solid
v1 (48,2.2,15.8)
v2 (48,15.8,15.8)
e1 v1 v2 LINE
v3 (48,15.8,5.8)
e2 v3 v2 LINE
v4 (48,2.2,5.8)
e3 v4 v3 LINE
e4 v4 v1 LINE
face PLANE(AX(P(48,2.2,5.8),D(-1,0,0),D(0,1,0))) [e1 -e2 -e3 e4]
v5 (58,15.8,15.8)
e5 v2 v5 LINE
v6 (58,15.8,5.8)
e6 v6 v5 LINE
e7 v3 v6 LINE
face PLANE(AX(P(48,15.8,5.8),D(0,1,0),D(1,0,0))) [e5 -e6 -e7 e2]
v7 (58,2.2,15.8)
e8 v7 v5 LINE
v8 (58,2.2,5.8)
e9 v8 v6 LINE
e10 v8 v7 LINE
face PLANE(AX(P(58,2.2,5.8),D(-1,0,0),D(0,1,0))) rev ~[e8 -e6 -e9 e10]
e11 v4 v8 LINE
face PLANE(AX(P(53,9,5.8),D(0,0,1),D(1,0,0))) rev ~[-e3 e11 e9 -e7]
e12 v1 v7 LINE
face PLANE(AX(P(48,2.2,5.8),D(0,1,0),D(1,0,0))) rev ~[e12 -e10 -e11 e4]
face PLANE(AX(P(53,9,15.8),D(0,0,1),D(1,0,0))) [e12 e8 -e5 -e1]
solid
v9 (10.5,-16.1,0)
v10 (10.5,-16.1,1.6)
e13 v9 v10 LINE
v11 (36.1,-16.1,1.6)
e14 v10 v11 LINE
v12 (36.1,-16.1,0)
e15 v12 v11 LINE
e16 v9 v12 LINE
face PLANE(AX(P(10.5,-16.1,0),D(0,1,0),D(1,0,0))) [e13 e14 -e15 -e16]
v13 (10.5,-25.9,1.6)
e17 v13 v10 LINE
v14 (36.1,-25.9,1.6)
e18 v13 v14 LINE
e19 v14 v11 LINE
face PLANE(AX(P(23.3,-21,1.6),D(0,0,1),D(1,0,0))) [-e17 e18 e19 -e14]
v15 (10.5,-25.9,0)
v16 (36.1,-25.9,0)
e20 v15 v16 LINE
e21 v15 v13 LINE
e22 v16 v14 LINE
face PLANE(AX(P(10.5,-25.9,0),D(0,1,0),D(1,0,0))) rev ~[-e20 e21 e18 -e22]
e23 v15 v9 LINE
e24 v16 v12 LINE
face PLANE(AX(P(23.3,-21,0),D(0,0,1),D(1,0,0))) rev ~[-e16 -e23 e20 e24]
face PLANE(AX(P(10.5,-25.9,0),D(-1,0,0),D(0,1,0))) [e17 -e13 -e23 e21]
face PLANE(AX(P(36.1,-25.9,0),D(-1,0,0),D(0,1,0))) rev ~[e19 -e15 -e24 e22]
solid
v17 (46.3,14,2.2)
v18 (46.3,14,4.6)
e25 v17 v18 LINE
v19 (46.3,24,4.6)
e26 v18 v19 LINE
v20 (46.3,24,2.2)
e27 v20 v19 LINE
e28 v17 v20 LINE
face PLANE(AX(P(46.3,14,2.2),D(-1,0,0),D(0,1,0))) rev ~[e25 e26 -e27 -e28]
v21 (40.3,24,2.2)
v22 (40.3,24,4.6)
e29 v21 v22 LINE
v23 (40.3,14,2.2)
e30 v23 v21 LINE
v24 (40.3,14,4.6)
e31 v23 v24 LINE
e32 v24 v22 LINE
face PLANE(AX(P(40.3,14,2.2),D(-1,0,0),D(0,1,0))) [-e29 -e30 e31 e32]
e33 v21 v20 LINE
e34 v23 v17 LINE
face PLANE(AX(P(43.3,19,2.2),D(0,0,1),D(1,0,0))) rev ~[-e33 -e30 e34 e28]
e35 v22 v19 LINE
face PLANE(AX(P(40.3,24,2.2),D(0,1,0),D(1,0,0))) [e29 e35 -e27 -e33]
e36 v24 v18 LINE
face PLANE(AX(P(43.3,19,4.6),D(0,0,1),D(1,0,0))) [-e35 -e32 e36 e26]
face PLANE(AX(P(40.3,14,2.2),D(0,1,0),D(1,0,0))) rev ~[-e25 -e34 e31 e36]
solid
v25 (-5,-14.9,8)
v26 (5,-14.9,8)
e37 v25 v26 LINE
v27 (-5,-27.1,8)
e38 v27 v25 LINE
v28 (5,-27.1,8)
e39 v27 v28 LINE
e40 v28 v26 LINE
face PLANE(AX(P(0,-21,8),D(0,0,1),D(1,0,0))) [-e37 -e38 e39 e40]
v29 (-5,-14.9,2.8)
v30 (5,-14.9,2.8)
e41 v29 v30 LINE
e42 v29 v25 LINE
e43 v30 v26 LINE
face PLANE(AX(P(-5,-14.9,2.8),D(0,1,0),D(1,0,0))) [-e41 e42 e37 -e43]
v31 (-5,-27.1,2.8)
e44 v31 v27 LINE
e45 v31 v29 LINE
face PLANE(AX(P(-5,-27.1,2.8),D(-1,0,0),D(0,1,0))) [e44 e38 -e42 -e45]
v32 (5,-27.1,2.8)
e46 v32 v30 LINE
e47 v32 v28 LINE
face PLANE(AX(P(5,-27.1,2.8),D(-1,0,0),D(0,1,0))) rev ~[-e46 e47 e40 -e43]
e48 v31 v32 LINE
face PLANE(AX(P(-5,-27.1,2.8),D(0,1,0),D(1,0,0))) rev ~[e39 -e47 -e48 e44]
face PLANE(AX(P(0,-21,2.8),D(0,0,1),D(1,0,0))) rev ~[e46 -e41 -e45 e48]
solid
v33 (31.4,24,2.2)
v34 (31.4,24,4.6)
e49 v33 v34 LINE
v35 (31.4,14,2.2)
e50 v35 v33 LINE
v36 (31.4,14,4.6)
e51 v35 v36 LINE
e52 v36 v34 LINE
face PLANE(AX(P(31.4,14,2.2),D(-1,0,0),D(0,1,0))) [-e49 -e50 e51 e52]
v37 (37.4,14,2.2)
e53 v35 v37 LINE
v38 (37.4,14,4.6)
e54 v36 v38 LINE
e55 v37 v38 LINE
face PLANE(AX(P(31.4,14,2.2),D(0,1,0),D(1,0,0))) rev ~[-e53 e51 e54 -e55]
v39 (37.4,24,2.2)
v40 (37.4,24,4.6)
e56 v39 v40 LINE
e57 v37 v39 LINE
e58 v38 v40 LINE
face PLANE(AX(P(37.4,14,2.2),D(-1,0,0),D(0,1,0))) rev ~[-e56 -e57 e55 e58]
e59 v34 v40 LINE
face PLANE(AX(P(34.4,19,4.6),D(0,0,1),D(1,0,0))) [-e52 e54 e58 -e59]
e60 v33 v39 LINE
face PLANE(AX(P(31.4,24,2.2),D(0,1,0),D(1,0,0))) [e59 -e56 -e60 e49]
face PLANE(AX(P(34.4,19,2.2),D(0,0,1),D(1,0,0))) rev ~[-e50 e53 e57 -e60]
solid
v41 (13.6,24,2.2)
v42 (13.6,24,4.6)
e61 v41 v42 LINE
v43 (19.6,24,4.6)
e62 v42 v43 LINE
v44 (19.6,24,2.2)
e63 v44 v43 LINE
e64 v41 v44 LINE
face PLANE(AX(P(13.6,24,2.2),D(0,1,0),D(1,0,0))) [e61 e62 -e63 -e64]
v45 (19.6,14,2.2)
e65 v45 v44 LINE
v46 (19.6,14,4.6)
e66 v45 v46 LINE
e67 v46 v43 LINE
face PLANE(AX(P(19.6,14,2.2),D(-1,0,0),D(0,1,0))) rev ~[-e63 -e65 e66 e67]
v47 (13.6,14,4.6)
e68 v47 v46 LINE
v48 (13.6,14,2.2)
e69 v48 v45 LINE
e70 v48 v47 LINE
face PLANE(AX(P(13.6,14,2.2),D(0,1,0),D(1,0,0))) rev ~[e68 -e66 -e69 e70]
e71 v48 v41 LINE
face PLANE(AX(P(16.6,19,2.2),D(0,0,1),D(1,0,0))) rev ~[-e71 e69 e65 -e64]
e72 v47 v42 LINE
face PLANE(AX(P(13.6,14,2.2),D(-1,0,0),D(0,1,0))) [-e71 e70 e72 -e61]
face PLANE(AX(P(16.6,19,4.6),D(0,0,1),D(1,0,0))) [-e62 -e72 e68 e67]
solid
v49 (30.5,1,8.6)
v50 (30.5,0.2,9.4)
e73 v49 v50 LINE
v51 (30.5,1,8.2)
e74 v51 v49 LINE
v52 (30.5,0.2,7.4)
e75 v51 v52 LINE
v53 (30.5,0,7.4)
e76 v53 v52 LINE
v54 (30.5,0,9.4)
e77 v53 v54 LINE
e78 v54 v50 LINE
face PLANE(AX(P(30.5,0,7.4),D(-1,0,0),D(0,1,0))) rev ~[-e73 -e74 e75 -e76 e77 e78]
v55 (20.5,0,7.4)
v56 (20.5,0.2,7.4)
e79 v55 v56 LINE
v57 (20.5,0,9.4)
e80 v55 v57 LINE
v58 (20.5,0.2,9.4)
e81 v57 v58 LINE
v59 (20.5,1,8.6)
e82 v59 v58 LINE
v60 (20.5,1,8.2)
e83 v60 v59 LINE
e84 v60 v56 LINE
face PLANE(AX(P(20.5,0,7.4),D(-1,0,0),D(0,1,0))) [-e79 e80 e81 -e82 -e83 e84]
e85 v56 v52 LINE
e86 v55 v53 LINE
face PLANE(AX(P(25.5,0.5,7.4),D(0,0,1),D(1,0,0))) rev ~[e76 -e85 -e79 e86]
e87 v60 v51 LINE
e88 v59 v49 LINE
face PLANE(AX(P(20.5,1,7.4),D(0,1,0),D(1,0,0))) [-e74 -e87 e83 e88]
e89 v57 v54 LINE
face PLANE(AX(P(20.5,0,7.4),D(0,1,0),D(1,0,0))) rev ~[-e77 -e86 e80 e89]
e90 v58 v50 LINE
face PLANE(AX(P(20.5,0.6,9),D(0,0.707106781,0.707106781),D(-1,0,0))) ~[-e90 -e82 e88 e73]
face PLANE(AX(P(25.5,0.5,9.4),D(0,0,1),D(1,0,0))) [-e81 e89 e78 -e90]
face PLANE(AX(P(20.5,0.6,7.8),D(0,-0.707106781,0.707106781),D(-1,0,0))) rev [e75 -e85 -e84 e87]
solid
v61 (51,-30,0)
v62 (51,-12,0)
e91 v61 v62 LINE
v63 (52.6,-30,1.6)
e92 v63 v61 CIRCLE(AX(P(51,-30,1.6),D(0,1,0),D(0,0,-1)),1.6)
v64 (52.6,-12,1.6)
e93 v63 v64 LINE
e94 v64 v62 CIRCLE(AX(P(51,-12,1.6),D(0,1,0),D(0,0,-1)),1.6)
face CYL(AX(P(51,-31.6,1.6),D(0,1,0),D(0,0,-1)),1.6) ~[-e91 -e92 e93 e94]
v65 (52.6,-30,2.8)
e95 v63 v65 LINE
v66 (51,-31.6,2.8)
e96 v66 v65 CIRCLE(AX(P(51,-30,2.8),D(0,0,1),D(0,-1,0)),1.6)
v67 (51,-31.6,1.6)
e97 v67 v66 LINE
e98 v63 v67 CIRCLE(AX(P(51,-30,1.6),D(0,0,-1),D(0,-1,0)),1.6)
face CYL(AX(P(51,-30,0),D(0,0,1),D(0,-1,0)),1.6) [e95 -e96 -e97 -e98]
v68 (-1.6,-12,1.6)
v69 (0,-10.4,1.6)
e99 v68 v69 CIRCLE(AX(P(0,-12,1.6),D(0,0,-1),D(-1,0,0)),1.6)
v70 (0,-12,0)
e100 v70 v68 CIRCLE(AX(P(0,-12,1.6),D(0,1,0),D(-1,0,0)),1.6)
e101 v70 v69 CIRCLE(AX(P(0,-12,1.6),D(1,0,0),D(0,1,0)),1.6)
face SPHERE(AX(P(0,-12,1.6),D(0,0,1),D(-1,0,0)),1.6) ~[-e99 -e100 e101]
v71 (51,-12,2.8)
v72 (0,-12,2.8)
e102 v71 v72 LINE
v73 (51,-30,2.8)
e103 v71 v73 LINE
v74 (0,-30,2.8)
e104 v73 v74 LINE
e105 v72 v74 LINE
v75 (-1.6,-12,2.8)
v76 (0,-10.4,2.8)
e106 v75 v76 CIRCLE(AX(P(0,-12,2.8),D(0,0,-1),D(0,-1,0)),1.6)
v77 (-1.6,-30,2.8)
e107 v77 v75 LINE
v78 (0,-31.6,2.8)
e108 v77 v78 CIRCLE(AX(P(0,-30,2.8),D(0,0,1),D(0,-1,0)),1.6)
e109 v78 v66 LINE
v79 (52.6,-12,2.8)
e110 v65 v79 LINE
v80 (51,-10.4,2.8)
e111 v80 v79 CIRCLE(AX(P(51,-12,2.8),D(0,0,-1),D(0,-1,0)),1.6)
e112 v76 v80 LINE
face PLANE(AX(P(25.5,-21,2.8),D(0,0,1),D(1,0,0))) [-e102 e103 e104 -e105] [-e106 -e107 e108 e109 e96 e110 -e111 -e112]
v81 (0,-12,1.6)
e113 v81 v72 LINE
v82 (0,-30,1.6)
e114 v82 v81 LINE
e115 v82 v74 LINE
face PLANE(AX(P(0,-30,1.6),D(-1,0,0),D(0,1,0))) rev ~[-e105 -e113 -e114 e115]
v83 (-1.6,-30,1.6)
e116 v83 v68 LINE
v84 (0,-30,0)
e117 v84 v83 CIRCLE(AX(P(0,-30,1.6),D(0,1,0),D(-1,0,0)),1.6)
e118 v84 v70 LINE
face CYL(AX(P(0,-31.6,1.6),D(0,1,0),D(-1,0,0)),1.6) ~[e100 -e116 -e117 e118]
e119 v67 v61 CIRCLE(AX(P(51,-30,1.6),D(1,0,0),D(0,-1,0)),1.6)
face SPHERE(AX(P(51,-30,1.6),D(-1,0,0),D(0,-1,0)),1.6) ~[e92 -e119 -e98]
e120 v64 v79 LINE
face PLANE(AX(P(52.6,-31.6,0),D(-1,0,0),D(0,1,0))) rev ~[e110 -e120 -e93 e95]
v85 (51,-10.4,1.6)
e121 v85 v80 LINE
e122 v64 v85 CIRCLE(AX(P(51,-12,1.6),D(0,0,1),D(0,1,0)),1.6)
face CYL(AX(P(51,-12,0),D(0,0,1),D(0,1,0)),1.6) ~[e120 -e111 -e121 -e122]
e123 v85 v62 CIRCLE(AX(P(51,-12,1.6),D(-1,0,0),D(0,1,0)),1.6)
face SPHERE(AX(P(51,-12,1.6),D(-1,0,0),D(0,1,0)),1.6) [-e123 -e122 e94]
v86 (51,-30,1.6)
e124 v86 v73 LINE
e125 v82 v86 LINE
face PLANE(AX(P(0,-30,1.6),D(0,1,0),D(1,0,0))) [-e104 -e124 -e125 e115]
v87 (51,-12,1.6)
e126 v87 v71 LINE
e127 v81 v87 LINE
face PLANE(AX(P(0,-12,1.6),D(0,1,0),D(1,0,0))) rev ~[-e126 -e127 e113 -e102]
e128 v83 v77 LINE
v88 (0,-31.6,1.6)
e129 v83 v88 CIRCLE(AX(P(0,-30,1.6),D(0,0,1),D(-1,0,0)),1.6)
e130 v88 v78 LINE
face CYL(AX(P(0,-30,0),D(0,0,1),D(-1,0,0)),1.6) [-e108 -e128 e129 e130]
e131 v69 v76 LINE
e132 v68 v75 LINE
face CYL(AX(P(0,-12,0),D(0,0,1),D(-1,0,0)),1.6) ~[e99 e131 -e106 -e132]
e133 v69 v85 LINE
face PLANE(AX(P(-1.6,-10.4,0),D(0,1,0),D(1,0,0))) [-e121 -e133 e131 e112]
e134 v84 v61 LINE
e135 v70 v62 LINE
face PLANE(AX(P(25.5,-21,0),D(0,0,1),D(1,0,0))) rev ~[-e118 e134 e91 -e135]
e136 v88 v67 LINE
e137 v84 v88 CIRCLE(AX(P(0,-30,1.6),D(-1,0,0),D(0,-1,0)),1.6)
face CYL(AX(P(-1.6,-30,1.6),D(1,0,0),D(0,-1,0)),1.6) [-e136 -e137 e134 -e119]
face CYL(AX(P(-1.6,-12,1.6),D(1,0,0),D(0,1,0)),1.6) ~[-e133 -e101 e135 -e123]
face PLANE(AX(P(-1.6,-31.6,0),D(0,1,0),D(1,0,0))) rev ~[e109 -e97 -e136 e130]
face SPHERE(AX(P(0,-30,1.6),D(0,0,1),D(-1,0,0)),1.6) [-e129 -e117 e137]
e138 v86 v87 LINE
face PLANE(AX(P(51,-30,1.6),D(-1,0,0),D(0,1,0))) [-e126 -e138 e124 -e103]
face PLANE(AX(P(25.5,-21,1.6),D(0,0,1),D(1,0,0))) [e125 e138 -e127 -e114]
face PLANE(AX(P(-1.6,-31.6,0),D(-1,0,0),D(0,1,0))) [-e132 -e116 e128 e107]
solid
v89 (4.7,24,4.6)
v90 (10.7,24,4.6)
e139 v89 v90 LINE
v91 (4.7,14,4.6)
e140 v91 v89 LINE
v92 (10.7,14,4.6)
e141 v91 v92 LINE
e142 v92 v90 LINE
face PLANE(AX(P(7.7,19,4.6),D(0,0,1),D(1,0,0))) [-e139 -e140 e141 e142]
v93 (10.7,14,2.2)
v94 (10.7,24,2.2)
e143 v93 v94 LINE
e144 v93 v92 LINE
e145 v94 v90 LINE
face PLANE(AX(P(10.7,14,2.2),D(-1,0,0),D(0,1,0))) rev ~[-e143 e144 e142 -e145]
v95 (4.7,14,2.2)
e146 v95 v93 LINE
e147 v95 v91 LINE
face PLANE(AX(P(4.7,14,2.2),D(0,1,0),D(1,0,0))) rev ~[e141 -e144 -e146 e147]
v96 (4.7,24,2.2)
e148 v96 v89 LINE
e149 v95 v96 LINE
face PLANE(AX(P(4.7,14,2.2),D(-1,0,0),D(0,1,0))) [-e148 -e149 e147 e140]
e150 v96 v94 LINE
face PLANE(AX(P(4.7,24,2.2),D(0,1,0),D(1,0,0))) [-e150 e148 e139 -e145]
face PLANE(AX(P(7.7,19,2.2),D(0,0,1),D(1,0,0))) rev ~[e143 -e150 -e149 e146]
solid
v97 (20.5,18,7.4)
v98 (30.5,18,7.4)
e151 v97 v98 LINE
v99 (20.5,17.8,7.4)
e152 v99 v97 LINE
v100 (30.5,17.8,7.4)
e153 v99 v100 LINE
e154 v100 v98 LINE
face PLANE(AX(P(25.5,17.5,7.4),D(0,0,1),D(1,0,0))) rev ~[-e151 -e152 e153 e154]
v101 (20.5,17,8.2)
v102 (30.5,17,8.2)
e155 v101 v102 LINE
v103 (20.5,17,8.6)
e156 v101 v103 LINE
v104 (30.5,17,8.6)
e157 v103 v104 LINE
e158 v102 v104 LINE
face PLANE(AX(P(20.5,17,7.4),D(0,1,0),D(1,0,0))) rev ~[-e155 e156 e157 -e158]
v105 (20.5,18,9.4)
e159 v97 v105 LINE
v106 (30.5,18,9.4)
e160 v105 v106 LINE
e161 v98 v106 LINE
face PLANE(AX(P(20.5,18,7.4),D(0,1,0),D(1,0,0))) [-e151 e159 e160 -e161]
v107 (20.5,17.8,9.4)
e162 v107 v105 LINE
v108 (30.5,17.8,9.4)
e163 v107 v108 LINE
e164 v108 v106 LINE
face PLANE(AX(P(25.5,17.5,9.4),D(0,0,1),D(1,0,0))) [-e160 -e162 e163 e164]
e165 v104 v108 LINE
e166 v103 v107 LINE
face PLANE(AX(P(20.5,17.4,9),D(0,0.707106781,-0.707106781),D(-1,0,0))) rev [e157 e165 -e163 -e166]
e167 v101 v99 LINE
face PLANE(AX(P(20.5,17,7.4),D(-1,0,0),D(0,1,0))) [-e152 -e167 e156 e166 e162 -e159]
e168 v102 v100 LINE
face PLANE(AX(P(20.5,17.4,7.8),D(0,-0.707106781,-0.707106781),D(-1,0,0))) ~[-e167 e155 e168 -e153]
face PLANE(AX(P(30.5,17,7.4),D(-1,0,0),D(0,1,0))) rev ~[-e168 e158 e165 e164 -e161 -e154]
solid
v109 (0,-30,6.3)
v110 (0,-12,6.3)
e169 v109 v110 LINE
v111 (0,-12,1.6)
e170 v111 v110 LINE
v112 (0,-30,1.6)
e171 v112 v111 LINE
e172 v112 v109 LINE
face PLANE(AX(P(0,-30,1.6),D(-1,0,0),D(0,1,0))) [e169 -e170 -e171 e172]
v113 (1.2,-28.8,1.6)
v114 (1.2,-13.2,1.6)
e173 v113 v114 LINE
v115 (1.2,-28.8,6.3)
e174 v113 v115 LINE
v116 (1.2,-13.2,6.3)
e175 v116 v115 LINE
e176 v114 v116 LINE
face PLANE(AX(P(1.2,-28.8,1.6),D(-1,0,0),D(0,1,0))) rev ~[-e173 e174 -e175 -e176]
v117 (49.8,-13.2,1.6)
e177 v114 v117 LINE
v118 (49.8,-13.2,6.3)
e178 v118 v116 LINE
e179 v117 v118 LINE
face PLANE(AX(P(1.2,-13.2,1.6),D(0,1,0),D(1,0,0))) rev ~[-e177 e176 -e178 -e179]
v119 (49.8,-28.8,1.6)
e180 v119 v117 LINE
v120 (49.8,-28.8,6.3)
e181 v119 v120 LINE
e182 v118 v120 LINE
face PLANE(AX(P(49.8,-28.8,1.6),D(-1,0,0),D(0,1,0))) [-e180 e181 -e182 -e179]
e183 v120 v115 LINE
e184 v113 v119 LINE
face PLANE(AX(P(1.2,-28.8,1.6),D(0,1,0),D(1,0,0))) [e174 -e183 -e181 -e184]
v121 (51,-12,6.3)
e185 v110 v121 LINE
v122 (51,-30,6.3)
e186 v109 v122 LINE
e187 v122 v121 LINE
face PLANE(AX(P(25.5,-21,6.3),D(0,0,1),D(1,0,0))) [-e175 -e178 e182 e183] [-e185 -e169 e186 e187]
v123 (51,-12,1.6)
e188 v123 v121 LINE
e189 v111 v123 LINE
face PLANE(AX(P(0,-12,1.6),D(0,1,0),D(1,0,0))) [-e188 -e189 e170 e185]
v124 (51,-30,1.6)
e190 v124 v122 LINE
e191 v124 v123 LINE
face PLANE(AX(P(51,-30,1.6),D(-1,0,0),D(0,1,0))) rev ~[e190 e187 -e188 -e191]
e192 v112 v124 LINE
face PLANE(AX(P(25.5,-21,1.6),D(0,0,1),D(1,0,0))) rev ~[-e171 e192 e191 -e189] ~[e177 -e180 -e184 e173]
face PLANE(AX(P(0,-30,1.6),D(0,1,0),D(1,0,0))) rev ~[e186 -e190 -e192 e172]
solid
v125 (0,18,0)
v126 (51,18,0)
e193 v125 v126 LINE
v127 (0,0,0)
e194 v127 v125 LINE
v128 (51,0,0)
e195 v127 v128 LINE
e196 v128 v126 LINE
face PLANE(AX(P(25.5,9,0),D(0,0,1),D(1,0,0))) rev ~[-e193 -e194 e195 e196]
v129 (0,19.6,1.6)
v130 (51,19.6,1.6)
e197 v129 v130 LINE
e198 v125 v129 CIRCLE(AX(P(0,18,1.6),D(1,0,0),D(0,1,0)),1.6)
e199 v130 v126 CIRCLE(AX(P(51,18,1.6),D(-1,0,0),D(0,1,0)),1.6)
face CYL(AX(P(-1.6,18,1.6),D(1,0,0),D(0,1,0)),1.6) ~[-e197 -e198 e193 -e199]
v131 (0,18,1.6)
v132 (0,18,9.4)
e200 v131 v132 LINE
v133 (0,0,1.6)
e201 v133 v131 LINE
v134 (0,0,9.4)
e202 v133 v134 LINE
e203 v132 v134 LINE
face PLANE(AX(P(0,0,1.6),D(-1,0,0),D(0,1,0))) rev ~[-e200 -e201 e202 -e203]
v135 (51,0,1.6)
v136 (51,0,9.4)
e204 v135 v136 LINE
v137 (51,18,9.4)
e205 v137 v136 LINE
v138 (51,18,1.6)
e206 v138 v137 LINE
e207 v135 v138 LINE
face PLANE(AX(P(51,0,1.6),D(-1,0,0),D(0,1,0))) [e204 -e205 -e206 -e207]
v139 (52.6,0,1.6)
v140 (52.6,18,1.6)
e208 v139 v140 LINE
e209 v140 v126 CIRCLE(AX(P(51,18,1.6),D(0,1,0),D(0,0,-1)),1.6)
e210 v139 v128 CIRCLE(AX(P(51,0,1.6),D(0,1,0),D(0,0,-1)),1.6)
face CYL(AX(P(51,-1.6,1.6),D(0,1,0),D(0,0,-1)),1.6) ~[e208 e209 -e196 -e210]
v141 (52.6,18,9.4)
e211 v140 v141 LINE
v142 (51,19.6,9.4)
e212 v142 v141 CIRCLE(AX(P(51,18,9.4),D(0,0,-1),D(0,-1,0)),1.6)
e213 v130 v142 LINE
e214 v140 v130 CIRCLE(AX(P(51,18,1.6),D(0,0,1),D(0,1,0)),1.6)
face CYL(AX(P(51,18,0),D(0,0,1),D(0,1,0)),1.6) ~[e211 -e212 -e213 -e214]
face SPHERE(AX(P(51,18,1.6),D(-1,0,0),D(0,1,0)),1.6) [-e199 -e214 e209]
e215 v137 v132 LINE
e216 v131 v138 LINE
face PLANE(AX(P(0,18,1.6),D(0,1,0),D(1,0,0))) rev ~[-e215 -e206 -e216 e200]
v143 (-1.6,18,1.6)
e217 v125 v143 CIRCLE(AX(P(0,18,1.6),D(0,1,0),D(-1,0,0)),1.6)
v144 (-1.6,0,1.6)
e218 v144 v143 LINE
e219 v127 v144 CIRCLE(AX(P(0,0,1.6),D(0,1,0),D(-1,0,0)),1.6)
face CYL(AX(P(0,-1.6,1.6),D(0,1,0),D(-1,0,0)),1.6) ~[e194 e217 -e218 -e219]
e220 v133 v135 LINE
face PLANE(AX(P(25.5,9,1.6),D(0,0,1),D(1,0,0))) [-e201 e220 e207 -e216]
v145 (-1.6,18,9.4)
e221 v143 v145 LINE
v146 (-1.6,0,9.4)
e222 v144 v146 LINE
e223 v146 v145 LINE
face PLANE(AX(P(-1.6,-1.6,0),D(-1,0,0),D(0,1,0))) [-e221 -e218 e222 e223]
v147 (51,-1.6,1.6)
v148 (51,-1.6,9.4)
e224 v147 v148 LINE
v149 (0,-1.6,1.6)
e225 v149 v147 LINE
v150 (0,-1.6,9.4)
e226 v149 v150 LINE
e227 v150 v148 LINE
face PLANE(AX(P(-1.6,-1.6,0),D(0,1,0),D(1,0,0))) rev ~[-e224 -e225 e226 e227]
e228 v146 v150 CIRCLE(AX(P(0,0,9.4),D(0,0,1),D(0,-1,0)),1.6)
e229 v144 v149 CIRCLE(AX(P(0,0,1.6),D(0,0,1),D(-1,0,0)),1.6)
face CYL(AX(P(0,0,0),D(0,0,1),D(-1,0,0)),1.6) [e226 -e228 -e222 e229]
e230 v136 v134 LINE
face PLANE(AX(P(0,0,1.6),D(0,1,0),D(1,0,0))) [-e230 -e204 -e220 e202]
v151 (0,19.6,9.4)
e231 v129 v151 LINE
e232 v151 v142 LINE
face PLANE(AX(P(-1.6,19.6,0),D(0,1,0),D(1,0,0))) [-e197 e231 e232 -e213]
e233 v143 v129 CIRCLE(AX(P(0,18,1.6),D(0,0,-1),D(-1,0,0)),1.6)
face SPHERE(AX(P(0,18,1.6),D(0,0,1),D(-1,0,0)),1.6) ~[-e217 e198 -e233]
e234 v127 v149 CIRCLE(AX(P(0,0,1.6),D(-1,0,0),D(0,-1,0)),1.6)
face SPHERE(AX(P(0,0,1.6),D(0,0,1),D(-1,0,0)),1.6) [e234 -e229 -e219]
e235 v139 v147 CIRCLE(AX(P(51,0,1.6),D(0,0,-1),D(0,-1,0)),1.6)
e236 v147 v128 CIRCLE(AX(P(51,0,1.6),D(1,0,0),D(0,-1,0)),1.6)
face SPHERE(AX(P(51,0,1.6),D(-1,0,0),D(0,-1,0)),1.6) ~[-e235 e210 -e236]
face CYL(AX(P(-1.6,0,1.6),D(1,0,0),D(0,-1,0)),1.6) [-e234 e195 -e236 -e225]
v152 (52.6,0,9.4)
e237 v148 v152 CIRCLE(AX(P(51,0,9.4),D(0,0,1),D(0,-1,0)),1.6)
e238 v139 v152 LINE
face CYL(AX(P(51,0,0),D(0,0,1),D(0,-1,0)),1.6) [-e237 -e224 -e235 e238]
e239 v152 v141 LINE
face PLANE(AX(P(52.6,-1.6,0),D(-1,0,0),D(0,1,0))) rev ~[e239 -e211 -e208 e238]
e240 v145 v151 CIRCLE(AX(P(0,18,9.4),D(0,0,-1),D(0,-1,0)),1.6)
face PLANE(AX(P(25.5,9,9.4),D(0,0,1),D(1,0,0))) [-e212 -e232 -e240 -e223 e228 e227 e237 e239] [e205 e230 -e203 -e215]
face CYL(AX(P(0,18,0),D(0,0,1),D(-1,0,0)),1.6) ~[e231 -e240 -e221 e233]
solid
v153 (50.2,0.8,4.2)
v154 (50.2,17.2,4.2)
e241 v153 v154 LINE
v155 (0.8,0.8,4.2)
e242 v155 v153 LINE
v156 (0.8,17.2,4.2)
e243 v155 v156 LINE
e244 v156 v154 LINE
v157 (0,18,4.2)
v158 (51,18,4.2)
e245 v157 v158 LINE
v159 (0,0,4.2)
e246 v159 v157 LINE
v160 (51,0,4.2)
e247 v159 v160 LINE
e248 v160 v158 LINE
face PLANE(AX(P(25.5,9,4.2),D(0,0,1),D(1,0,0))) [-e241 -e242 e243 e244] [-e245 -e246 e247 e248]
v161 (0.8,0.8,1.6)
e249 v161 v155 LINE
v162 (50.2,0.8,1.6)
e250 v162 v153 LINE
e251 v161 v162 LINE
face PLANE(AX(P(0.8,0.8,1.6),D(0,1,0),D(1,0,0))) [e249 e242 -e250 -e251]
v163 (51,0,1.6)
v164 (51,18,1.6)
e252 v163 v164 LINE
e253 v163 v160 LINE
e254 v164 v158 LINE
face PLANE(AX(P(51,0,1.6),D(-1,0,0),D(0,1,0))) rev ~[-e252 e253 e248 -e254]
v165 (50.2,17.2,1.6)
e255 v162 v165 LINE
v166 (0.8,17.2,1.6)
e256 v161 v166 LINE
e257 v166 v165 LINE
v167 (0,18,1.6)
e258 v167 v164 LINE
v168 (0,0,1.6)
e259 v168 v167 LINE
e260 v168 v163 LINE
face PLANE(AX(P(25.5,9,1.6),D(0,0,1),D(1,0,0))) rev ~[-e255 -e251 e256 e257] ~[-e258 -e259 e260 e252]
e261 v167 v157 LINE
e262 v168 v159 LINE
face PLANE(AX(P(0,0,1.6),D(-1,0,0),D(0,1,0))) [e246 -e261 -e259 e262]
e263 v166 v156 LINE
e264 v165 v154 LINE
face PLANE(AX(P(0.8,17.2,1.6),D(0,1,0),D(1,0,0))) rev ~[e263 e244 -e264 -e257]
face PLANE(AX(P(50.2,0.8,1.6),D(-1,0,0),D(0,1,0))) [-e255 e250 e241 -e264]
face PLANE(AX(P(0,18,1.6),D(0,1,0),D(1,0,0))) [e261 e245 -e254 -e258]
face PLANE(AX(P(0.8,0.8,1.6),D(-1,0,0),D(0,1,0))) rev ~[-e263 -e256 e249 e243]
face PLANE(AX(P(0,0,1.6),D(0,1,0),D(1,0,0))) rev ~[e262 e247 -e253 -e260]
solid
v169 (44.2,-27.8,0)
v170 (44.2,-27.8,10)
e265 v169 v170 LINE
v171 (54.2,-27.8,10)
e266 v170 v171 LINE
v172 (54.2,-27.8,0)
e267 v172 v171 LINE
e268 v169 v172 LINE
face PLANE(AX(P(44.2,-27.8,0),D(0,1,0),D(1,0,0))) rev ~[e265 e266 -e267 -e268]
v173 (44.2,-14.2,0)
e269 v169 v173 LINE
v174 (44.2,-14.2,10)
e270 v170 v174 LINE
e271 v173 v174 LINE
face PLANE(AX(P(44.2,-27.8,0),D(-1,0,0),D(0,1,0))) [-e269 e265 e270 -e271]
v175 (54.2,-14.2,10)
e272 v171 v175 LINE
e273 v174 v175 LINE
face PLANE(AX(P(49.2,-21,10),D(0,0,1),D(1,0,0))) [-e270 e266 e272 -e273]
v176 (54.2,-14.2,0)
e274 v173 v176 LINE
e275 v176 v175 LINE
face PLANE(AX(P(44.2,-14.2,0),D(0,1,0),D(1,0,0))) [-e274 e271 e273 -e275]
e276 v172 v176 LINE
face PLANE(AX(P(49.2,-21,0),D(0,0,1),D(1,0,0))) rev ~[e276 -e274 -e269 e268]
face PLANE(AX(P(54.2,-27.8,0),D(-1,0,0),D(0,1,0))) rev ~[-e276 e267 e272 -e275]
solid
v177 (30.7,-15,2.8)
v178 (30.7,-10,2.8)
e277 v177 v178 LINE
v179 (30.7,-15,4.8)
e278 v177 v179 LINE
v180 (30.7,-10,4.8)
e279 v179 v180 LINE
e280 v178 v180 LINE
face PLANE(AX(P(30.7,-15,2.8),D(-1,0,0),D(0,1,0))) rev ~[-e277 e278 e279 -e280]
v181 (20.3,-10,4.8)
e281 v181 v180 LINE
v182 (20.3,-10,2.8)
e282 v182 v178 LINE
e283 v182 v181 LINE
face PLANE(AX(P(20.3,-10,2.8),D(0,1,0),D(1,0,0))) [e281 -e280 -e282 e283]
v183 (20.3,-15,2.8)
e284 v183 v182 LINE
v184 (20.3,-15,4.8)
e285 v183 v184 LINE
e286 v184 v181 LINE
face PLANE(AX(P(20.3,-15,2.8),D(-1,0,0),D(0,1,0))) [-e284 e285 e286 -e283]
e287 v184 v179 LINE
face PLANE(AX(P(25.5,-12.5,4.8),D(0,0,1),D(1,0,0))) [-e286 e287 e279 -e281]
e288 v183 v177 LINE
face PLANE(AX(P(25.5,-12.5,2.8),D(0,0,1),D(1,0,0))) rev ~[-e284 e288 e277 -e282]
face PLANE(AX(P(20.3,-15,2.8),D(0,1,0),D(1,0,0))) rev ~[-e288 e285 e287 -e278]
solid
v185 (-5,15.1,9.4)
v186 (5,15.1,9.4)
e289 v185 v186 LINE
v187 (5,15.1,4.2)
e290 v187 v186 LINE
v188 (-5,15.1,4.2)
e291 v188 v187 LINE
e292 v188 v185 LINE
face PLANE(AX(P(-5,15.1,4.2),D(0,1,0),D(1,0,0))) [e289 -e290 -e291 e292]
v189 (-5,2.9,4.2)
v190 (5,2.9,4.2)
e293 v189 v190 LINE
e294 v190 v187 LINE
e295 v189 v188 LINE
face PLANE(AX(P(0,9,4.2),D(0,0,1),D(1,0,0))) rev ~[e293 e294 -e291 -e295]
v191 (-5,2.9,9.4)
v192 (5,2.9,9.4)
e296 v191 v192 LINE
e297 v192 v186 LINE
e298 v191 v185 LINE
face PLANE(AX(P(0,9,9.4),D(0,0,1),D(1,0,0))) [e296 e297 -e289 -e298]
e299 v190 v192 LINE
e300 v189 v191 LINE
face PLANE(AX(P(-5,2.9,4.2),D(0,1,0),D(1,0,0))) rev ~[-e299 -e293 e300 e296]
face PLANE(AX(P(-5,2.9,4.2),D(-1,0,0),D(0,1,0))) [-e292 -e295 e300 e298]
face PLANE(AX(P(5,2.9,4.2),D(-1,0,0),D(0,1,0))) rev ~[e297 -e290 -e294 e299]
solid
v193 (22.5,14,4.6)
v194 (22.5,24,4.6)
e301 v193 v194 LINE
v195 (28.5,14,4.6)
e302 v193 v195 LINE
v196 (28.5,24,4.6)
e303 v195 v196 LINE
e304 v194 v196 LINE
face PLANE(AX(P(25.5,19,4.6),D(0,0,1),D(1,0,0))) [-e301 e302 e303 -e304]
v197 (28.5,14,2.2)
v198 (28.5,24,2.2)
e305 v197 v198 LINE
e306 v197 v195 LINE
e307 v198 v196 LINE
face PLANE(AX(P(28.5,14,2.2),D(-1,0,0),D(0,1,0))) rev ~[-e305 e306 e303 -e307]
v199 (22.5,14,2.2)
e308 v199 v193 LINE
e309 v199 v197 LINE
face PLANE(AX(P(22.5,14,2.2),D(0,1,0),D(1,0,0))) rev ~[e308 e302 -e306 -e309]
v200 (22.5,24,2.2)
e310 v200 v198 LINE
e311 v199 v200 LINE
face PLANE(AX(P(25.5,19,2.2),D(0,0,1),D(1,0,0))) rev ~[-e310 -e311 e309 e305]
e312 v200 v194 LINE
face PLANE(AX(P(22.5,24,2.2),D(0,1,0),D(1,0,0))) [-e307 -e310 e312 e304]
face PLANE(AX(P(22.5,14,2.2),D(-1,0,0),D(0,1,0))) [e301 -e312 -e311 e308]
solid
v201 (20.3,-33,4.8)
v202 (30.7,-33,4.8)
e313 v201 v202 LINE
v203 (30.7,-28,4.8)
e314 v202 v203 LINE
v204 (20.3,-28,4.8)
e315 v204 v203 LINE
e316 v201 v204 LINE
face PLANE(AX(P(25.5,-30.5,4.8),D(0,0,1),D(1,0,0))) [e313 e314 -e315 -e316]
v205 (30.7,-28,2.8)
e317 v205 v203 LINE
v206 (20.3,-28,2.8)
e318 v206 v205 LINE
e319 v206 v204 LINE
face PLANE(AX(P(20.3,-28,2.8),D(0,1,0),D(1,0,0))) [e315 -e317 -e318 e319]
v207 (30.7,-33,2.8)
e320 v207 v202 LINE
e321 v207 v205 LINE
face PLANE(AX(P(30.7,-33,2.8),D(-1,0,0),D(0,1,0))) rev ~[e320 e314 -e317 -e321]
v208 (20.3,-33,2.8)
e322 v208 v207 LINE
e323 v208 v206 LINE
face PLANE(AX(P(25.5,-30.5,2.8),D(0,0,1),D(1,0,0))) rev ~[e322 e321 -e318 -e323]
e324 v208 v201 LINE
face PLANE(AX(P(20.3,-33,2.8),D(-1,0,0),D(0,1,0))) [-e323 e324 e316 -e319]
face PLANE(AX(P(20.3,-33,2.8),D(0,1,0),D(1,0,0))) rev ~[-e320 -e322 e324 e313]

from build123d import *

# Parameters (mm, degrees)
BOX001_W        = 51
BOX001_H        = 18
BOX001_DEPTH    = 9.4
BOX_W           = 54.2
BOX_H           = 21.2
BOX_DEPTH       = 9.4
FILLET_R        = 1.6
BOX003_W        = 49.4
BOX003_H        = 16.4
BOX003_DEPTH    = 2.6
BOX002_W        = 51
BOX002_H        = 18
BOX002_DEPTH    = 2.6
BOX004_W        = 10
BOX004_H        = 1
BOX004_DEPTH    = 2
CHAMFER_SIZE    = 0.8
BOX005_W        = 10
BOX005_H        = 1
BOX005_DEPTH    = 2
CHAMFER001_SIZE = 0.8
BOX006_W        = 10
BOX006_H        = 12.2
BOX006_DEPTH    = 5.2
BOX007_W        = 10
BOX007_H        = 13.6
BOX007_DEPTH    = 10
BOX008_W        = 6
BOX008_H        = 10
BOX008_DEPTH    = 2.4
BOX009_W        = 6
BOX009_H        = 10
BOX009_DEPTH    = 2.4
BOX011_W        = 51
BOX011_H        = 18
BOX011_DEPTH    = 9.4
BOX010_W        = 54.2
BOX010_H        = 21.2
BOX010_DEPTH    = 2.8
FILLET001_R     = 1.6
BOX013_W        = 48.6
BOX013_H        = 15.6
BOX013_DEPTH    = 4.8
BOX012_W        = 51
BOX012_H        = 18
BOX012_DEPTH    = 4.7
BOX014_W        = 25.6
BOX014_H        = 9.8
BOX014_DEPTH    = 1.6
BOX015_W        = 10
BOX015_H        = 12.2
BOX015_DEPTH    = 5.2
BOX016_W        = 10
BOX016_H        = 13.6
BOX016_DEPTH    = 10
BOX017_W        = 10.4
BOX017_H        = 5
BOX017_DEPTH    = 2
BOX018_W        = 10.4
BOX018_H        = 5
BOX018_DEPTH    = 2
BOX019_W        = 6
BOX019_H        = 10
BOX019_DEPTH    = 2.4
BOX020_W        = 6
BOX020_H        = 10
BOX020_DEPTH    = 2.4
BOX021_W        = 6
BOX021_H        = 10
BOX021_DEPTH    = 2.4


with BuildPart() as unten_innen:
    # Box001 → Box001 (new body)
    with BuildSketch(Plane.XY.offset(1.6)):
        with Locations((25.5, 9)):
            Rectangle(BOX001_W, BOX001_H)
    extrude(amount=BOX001_DEPTH)


with BuildPart() as schale_unten:
    # Box → Box (new body)
    with BuildSketch(Plane(origin=(-1.6, -1.6, 0), x_dir=(1, 0, 0), z_dir=(0, 0, 1))):
        with Locations((27.1, 10.6)):
            Rectangle(BOX_W, BOX_H)
    extrude(amount=BOX_DEPTH)

    # Cut: cut unten_innen
    add(unten_innen.part, mode=Mode.SUBTRACT)

    # Fillet
    fillet_edges = [schale_unten.edges().sort_by_distance(p)[0] for p in [
        (-1.6, -1.6, 4.7),
        (-1.6, 19.6, 4.7),
        (-1.6, 9, 0),
        (25.5, -1.6, 0),
        (52.6, -1.6, 4.7),
        (25.5, 19.6, 0),
        (52.6, 19.6, 4.7),
        (52.6, 9, 0),
    ]]
    fillet(fillet_edges, radius=FILLET_R)


with BuildPart() as auflage_innen:
    # Box003 → Box003 (new body)
    with BuildSketch(Plane(origin=(0.8, 0.8, 1.6), x_dir=(1, 0, 0), z_dir=(0, 0, 1))):
        with Locations((24.7, 8.2)):
            Rectangle(BOX003_W, BOX003_H)
    extrude(amount=BOX003_DEPTH)


with BuildPart() as auflage:
    # Box002 → Box002 (new body)
    with BuildSketch(Plane.XY.offset(1.6)):
        with Locations((25.5, 9)):
            Rectangle(BOX002_W, BOX002_H)
    extrude(amount=BOX002_DEPTH)

    # Cut001: cut Auflage_innen
    add(auflage_innen.part, mode=Mode.SUBTRACT)


with BuildPart() as haken1:
    # Box004 → Box004 (new body)
    with BuildSketch(Plane(origin=(20.5, 0, 7.4), x_dir=(1, 0, 0), z_dir=(0, 0, 1))):
        with Locations((5, 0.5)):
            Rectangle(BOX004_W, BOX004_H)
    extrude(amount=BOX004_DEPTH)

    # Chamfer
    chamfer_edges = [haken1.edges().sort_by_distance(p)[0] for p in [
        (25.5, 1, 7.4),
        (25.5, 1, 9.4),
    ]]
    chamfer(chamfer_edges, length=CHAMFER_SIZE)


with BuildPart() as haken2:
    # Box005 → Box005 (new body)
    with BuildSketch(Plane(origin=(20.5, 17, 7.4), x_dir=(1, 0, 0), z_dir=(0, 0, 1))):
        with Locations((5, 0.5)):
            Rectangle(BOX005_W, BOX005_H)
    extrude(amount=BOX005_DEPTH)

    # Chamfer001
    chamfer001_edges = [haken2.edges().sort_by_distance(p)[0] for p in [
        (25.5, 17, 7.4),
        (25.5, 17, 9.4),
    ]]
    chamfer(chamfer001_edges, length=CHAMFER001_SIZE)


with BuildPart() as usb_stecker:
    # Box006 → Box006 (new body)
    with BuildSketch(Plane(origin=(-5, 2.9, 4.2), x_dir=(1, 0, 0), z_dir=(0, 0, 1))):
        with Locations((5, 6.1)):
            Rectangle(BOX006_W, BOX006_H)
    extrude(amount=BOX006_DEPTH)


with BuildPart() as usb_buchse:
    # Box007 → Box007 (new body)
    with BuildSketch(Plane(origin=(48, 2.2, 5.8), x_dir=(1, 0, 0), z_dir=(0, 0, 1))):
        with Locations((5, 6.8)):
            Rectangle(BOX007_W, BOX007_H)
    extrude(amount=BOX007_DEPTH)


with BuildPart() as button1:
    # Box008 → Box008 (new body)
    with BuildSketch(Plane(origin=(4.7, 14, 2.2), x_dir=(1, 0, 0), z_dir=(0, 0, 1))):
        with Locations((3, 5)):
            Rectangle(BOX008_W, BOX008_H)
    extrude(amount=BOX008_DEPTH)


with BuildPart() as button2:
    # Box009 → Box009 (new body)
    with BuildSketch(Plane(origin=(13.6, 14, 2.2), x_dir=(1, 0, 0), z_dir=(0, 0, 1))):
        with Locations((3, 5)):
            Rectangle(BOX009_W, BOX009_H)
    extrude(amount=BOX009_DEPTH)


with BuildPart() as oben_innen:
    # Box011 → Box011 (new body)
    with BuildSketch(Plane(origin=(0, -30, 1.6), x_dir=(1, 0, 0), z_dir=(0, 0, 1))):
        with Locations((25.5, 9)):
            Rectangle(BOX011_W, BOX011_H)
    extrude(amount=BOX011_DEPTH)


with BuildPart() as schale_oben:
    # Box010 → Box010 (new body)
    with BuildSketch(Plane(origin=(-1.6, -31.6, 0), x_dir=(1, 0, 0), z_dir=(0, 0, 1))):
        with Locations((27.1, 10.6)):
            Rectangle(BOX010_W, BOX010_H)
    extrude(amount=BOX010_DEPTH)

    # Cut002: cut oben_innen
    add(oben_innen.part, mode=Mode.SUBTRACT)

    # Fillet001
    fillet001_edges = [schale_oben.edges().sort_by_distance(p)[0] for p in [
        (-1.6, -31.6, 1.4),
        (-1.6, -10.4, 1.4),
        (-1.6, -21, 0),
        (25.5, -31.6, 0),
        (52.6, -31.6, 1.4),
        (25.5, -10.4, 0),
        (52.6, -10.4, 1.4),
        (52.6, -21, 0),
    ]]
    fillet(fillet001_edges, radius=FILLET001_R)


with BuildPart() as rahmen_innen:
    # Box013 → Box013 (new body)
    with BuildSketch(Plane(origin=(1.2, -28.8, 1.6), x_dir=(1, 0, 0), z_dir=(0, 0, 1))):
        with Locations((24.3, 7.8)):
            Rectangle(BOX013_W, BOX013_H)
    extrude(amount=BOX013_DEPTH)


with BuildPart() as rahmen:
    # Box012 → Box012 (new body)
    with BuildSketch(Plane(origin=(0, -30, 1.6), x_dir=(1, 0, 0), z_dir=(0, 0, 1))):
        with Locations((25.5, 9)):
            Rectangle(BOX012_W, BOX012_H)
    extrude(amount=BOX012_DEPTH)

    # Cut003: cut Rahmen_innen
    add(rahmen_innen.part, mode=Mode.SUBTRACT)


with BuildPart() as oled:
    # Box014 → Box014 (new body)
    with BuildSketch(Plane(origin=(10.5, -25.9, 0), x_dir=(1, 0, 0), z_dir=(0, 0, 1))):
        with Locations((12.8, 4.9)):
            Rectangle(BOX014_W, BOX014_H)
    extrude(amount=BOX014_DEPTH)


with BuildPart() as usb_stecker2:
    # Box015 → Box015 (new body)
    with BuildSketch(Plane(origin=(-5, -27.1, 2.8), x_dir=(1, 0, 0), z_dir=(0, 0, 1))):
        with Locations((5, 6.1)):
            Rectangle(BOX015_W, BOX015_H)
    extrude(amount=BOX015_DEPTH)


with BuildPart() as usb_buchse2:
    # Box016 → Box016 (new body)
    with BuildSketch(Plane(origin=(44.2, -27.8, 0), x_dir=(1, 0, 0), z_dir=(0, 0, 1))):
        with Locations((5, 6.8)):
            Rectangle(BOX016_W, BOX016_H)
    extrude(amount=BOX016_DEPTH)


with BuildPart() as oese1:
    # Box017 → Box017 (new body)
    with BuildSketch(Plane(origin=(20.3, -33, 2.8), x_dir=(1, 0, 0), z_dir=(0, 0, 1))):
        with Locations((5.2, 2.5)):
            Rectangle(BOX017_W, BOX017_H)
    extrude(amount=BOX017_DEPTH)


with BuildPart() as oese2:
    # Box018 → Box018 (new body)
    with BuildSketch(Plane(origin=(20.3, -15, 2.8), x_dir=(1, 0, 0), z_dir=(0, 0, 1))):
        with Locations((5.2, 2.5)):
            Rectangle(BOX018_W, BOX018_H)
    extrude(amount=BOX018_DEPTH)


with BuildPart() as button3:
    # Box019 → Box019 (new body)
    with BuildSketch(Plane(origin=(22.5, 14, 2.2), x_dir=(1, 0, 0), z_dir=(0, 0, 1))):
        with Locations((3, 5)):
            Rectangle(BOX019_W, BOX019_H)
    extrude(amount=BOX019_DEPTH)


with BuildPart() as button4:
    # Box020 → Box020 (new body)
    with BuildSketch(Plane(origin=(31.4, 14, 2.2), x_dir=(1, 0, 0), z_dir=(0, 0, 1))):
        with Locations((3, 5)):
            Rectangle(BOX020_W, BOX020_H)
    extrude(amount=BOX020_DEPTH)


with BuildPart() as button5:
    # Box021 → Box021 (new body)
    with BuildSketch(Plane(origin=(40.3, 14, 2.2), x_dir=(1, 0, 0), z_dir=(0, 0, 1))):
        with Locations((3, 5)):
            Rectangle(BOX021_W, BOX021_H)
    extrude(amount=BOX021_DEPTH)


solid = Compound([schale_unten.part, auflage.part, haken1.part, haken2.part, usb_stecker.part, usb_buchse.part, button1.part, button2.part, schale_oben.part, rahmen.part, oled.part, usb_stecker2.part, usb_buchse2.part, oese1.part, oese2.part, button3.part, button4.part, button5.part])
